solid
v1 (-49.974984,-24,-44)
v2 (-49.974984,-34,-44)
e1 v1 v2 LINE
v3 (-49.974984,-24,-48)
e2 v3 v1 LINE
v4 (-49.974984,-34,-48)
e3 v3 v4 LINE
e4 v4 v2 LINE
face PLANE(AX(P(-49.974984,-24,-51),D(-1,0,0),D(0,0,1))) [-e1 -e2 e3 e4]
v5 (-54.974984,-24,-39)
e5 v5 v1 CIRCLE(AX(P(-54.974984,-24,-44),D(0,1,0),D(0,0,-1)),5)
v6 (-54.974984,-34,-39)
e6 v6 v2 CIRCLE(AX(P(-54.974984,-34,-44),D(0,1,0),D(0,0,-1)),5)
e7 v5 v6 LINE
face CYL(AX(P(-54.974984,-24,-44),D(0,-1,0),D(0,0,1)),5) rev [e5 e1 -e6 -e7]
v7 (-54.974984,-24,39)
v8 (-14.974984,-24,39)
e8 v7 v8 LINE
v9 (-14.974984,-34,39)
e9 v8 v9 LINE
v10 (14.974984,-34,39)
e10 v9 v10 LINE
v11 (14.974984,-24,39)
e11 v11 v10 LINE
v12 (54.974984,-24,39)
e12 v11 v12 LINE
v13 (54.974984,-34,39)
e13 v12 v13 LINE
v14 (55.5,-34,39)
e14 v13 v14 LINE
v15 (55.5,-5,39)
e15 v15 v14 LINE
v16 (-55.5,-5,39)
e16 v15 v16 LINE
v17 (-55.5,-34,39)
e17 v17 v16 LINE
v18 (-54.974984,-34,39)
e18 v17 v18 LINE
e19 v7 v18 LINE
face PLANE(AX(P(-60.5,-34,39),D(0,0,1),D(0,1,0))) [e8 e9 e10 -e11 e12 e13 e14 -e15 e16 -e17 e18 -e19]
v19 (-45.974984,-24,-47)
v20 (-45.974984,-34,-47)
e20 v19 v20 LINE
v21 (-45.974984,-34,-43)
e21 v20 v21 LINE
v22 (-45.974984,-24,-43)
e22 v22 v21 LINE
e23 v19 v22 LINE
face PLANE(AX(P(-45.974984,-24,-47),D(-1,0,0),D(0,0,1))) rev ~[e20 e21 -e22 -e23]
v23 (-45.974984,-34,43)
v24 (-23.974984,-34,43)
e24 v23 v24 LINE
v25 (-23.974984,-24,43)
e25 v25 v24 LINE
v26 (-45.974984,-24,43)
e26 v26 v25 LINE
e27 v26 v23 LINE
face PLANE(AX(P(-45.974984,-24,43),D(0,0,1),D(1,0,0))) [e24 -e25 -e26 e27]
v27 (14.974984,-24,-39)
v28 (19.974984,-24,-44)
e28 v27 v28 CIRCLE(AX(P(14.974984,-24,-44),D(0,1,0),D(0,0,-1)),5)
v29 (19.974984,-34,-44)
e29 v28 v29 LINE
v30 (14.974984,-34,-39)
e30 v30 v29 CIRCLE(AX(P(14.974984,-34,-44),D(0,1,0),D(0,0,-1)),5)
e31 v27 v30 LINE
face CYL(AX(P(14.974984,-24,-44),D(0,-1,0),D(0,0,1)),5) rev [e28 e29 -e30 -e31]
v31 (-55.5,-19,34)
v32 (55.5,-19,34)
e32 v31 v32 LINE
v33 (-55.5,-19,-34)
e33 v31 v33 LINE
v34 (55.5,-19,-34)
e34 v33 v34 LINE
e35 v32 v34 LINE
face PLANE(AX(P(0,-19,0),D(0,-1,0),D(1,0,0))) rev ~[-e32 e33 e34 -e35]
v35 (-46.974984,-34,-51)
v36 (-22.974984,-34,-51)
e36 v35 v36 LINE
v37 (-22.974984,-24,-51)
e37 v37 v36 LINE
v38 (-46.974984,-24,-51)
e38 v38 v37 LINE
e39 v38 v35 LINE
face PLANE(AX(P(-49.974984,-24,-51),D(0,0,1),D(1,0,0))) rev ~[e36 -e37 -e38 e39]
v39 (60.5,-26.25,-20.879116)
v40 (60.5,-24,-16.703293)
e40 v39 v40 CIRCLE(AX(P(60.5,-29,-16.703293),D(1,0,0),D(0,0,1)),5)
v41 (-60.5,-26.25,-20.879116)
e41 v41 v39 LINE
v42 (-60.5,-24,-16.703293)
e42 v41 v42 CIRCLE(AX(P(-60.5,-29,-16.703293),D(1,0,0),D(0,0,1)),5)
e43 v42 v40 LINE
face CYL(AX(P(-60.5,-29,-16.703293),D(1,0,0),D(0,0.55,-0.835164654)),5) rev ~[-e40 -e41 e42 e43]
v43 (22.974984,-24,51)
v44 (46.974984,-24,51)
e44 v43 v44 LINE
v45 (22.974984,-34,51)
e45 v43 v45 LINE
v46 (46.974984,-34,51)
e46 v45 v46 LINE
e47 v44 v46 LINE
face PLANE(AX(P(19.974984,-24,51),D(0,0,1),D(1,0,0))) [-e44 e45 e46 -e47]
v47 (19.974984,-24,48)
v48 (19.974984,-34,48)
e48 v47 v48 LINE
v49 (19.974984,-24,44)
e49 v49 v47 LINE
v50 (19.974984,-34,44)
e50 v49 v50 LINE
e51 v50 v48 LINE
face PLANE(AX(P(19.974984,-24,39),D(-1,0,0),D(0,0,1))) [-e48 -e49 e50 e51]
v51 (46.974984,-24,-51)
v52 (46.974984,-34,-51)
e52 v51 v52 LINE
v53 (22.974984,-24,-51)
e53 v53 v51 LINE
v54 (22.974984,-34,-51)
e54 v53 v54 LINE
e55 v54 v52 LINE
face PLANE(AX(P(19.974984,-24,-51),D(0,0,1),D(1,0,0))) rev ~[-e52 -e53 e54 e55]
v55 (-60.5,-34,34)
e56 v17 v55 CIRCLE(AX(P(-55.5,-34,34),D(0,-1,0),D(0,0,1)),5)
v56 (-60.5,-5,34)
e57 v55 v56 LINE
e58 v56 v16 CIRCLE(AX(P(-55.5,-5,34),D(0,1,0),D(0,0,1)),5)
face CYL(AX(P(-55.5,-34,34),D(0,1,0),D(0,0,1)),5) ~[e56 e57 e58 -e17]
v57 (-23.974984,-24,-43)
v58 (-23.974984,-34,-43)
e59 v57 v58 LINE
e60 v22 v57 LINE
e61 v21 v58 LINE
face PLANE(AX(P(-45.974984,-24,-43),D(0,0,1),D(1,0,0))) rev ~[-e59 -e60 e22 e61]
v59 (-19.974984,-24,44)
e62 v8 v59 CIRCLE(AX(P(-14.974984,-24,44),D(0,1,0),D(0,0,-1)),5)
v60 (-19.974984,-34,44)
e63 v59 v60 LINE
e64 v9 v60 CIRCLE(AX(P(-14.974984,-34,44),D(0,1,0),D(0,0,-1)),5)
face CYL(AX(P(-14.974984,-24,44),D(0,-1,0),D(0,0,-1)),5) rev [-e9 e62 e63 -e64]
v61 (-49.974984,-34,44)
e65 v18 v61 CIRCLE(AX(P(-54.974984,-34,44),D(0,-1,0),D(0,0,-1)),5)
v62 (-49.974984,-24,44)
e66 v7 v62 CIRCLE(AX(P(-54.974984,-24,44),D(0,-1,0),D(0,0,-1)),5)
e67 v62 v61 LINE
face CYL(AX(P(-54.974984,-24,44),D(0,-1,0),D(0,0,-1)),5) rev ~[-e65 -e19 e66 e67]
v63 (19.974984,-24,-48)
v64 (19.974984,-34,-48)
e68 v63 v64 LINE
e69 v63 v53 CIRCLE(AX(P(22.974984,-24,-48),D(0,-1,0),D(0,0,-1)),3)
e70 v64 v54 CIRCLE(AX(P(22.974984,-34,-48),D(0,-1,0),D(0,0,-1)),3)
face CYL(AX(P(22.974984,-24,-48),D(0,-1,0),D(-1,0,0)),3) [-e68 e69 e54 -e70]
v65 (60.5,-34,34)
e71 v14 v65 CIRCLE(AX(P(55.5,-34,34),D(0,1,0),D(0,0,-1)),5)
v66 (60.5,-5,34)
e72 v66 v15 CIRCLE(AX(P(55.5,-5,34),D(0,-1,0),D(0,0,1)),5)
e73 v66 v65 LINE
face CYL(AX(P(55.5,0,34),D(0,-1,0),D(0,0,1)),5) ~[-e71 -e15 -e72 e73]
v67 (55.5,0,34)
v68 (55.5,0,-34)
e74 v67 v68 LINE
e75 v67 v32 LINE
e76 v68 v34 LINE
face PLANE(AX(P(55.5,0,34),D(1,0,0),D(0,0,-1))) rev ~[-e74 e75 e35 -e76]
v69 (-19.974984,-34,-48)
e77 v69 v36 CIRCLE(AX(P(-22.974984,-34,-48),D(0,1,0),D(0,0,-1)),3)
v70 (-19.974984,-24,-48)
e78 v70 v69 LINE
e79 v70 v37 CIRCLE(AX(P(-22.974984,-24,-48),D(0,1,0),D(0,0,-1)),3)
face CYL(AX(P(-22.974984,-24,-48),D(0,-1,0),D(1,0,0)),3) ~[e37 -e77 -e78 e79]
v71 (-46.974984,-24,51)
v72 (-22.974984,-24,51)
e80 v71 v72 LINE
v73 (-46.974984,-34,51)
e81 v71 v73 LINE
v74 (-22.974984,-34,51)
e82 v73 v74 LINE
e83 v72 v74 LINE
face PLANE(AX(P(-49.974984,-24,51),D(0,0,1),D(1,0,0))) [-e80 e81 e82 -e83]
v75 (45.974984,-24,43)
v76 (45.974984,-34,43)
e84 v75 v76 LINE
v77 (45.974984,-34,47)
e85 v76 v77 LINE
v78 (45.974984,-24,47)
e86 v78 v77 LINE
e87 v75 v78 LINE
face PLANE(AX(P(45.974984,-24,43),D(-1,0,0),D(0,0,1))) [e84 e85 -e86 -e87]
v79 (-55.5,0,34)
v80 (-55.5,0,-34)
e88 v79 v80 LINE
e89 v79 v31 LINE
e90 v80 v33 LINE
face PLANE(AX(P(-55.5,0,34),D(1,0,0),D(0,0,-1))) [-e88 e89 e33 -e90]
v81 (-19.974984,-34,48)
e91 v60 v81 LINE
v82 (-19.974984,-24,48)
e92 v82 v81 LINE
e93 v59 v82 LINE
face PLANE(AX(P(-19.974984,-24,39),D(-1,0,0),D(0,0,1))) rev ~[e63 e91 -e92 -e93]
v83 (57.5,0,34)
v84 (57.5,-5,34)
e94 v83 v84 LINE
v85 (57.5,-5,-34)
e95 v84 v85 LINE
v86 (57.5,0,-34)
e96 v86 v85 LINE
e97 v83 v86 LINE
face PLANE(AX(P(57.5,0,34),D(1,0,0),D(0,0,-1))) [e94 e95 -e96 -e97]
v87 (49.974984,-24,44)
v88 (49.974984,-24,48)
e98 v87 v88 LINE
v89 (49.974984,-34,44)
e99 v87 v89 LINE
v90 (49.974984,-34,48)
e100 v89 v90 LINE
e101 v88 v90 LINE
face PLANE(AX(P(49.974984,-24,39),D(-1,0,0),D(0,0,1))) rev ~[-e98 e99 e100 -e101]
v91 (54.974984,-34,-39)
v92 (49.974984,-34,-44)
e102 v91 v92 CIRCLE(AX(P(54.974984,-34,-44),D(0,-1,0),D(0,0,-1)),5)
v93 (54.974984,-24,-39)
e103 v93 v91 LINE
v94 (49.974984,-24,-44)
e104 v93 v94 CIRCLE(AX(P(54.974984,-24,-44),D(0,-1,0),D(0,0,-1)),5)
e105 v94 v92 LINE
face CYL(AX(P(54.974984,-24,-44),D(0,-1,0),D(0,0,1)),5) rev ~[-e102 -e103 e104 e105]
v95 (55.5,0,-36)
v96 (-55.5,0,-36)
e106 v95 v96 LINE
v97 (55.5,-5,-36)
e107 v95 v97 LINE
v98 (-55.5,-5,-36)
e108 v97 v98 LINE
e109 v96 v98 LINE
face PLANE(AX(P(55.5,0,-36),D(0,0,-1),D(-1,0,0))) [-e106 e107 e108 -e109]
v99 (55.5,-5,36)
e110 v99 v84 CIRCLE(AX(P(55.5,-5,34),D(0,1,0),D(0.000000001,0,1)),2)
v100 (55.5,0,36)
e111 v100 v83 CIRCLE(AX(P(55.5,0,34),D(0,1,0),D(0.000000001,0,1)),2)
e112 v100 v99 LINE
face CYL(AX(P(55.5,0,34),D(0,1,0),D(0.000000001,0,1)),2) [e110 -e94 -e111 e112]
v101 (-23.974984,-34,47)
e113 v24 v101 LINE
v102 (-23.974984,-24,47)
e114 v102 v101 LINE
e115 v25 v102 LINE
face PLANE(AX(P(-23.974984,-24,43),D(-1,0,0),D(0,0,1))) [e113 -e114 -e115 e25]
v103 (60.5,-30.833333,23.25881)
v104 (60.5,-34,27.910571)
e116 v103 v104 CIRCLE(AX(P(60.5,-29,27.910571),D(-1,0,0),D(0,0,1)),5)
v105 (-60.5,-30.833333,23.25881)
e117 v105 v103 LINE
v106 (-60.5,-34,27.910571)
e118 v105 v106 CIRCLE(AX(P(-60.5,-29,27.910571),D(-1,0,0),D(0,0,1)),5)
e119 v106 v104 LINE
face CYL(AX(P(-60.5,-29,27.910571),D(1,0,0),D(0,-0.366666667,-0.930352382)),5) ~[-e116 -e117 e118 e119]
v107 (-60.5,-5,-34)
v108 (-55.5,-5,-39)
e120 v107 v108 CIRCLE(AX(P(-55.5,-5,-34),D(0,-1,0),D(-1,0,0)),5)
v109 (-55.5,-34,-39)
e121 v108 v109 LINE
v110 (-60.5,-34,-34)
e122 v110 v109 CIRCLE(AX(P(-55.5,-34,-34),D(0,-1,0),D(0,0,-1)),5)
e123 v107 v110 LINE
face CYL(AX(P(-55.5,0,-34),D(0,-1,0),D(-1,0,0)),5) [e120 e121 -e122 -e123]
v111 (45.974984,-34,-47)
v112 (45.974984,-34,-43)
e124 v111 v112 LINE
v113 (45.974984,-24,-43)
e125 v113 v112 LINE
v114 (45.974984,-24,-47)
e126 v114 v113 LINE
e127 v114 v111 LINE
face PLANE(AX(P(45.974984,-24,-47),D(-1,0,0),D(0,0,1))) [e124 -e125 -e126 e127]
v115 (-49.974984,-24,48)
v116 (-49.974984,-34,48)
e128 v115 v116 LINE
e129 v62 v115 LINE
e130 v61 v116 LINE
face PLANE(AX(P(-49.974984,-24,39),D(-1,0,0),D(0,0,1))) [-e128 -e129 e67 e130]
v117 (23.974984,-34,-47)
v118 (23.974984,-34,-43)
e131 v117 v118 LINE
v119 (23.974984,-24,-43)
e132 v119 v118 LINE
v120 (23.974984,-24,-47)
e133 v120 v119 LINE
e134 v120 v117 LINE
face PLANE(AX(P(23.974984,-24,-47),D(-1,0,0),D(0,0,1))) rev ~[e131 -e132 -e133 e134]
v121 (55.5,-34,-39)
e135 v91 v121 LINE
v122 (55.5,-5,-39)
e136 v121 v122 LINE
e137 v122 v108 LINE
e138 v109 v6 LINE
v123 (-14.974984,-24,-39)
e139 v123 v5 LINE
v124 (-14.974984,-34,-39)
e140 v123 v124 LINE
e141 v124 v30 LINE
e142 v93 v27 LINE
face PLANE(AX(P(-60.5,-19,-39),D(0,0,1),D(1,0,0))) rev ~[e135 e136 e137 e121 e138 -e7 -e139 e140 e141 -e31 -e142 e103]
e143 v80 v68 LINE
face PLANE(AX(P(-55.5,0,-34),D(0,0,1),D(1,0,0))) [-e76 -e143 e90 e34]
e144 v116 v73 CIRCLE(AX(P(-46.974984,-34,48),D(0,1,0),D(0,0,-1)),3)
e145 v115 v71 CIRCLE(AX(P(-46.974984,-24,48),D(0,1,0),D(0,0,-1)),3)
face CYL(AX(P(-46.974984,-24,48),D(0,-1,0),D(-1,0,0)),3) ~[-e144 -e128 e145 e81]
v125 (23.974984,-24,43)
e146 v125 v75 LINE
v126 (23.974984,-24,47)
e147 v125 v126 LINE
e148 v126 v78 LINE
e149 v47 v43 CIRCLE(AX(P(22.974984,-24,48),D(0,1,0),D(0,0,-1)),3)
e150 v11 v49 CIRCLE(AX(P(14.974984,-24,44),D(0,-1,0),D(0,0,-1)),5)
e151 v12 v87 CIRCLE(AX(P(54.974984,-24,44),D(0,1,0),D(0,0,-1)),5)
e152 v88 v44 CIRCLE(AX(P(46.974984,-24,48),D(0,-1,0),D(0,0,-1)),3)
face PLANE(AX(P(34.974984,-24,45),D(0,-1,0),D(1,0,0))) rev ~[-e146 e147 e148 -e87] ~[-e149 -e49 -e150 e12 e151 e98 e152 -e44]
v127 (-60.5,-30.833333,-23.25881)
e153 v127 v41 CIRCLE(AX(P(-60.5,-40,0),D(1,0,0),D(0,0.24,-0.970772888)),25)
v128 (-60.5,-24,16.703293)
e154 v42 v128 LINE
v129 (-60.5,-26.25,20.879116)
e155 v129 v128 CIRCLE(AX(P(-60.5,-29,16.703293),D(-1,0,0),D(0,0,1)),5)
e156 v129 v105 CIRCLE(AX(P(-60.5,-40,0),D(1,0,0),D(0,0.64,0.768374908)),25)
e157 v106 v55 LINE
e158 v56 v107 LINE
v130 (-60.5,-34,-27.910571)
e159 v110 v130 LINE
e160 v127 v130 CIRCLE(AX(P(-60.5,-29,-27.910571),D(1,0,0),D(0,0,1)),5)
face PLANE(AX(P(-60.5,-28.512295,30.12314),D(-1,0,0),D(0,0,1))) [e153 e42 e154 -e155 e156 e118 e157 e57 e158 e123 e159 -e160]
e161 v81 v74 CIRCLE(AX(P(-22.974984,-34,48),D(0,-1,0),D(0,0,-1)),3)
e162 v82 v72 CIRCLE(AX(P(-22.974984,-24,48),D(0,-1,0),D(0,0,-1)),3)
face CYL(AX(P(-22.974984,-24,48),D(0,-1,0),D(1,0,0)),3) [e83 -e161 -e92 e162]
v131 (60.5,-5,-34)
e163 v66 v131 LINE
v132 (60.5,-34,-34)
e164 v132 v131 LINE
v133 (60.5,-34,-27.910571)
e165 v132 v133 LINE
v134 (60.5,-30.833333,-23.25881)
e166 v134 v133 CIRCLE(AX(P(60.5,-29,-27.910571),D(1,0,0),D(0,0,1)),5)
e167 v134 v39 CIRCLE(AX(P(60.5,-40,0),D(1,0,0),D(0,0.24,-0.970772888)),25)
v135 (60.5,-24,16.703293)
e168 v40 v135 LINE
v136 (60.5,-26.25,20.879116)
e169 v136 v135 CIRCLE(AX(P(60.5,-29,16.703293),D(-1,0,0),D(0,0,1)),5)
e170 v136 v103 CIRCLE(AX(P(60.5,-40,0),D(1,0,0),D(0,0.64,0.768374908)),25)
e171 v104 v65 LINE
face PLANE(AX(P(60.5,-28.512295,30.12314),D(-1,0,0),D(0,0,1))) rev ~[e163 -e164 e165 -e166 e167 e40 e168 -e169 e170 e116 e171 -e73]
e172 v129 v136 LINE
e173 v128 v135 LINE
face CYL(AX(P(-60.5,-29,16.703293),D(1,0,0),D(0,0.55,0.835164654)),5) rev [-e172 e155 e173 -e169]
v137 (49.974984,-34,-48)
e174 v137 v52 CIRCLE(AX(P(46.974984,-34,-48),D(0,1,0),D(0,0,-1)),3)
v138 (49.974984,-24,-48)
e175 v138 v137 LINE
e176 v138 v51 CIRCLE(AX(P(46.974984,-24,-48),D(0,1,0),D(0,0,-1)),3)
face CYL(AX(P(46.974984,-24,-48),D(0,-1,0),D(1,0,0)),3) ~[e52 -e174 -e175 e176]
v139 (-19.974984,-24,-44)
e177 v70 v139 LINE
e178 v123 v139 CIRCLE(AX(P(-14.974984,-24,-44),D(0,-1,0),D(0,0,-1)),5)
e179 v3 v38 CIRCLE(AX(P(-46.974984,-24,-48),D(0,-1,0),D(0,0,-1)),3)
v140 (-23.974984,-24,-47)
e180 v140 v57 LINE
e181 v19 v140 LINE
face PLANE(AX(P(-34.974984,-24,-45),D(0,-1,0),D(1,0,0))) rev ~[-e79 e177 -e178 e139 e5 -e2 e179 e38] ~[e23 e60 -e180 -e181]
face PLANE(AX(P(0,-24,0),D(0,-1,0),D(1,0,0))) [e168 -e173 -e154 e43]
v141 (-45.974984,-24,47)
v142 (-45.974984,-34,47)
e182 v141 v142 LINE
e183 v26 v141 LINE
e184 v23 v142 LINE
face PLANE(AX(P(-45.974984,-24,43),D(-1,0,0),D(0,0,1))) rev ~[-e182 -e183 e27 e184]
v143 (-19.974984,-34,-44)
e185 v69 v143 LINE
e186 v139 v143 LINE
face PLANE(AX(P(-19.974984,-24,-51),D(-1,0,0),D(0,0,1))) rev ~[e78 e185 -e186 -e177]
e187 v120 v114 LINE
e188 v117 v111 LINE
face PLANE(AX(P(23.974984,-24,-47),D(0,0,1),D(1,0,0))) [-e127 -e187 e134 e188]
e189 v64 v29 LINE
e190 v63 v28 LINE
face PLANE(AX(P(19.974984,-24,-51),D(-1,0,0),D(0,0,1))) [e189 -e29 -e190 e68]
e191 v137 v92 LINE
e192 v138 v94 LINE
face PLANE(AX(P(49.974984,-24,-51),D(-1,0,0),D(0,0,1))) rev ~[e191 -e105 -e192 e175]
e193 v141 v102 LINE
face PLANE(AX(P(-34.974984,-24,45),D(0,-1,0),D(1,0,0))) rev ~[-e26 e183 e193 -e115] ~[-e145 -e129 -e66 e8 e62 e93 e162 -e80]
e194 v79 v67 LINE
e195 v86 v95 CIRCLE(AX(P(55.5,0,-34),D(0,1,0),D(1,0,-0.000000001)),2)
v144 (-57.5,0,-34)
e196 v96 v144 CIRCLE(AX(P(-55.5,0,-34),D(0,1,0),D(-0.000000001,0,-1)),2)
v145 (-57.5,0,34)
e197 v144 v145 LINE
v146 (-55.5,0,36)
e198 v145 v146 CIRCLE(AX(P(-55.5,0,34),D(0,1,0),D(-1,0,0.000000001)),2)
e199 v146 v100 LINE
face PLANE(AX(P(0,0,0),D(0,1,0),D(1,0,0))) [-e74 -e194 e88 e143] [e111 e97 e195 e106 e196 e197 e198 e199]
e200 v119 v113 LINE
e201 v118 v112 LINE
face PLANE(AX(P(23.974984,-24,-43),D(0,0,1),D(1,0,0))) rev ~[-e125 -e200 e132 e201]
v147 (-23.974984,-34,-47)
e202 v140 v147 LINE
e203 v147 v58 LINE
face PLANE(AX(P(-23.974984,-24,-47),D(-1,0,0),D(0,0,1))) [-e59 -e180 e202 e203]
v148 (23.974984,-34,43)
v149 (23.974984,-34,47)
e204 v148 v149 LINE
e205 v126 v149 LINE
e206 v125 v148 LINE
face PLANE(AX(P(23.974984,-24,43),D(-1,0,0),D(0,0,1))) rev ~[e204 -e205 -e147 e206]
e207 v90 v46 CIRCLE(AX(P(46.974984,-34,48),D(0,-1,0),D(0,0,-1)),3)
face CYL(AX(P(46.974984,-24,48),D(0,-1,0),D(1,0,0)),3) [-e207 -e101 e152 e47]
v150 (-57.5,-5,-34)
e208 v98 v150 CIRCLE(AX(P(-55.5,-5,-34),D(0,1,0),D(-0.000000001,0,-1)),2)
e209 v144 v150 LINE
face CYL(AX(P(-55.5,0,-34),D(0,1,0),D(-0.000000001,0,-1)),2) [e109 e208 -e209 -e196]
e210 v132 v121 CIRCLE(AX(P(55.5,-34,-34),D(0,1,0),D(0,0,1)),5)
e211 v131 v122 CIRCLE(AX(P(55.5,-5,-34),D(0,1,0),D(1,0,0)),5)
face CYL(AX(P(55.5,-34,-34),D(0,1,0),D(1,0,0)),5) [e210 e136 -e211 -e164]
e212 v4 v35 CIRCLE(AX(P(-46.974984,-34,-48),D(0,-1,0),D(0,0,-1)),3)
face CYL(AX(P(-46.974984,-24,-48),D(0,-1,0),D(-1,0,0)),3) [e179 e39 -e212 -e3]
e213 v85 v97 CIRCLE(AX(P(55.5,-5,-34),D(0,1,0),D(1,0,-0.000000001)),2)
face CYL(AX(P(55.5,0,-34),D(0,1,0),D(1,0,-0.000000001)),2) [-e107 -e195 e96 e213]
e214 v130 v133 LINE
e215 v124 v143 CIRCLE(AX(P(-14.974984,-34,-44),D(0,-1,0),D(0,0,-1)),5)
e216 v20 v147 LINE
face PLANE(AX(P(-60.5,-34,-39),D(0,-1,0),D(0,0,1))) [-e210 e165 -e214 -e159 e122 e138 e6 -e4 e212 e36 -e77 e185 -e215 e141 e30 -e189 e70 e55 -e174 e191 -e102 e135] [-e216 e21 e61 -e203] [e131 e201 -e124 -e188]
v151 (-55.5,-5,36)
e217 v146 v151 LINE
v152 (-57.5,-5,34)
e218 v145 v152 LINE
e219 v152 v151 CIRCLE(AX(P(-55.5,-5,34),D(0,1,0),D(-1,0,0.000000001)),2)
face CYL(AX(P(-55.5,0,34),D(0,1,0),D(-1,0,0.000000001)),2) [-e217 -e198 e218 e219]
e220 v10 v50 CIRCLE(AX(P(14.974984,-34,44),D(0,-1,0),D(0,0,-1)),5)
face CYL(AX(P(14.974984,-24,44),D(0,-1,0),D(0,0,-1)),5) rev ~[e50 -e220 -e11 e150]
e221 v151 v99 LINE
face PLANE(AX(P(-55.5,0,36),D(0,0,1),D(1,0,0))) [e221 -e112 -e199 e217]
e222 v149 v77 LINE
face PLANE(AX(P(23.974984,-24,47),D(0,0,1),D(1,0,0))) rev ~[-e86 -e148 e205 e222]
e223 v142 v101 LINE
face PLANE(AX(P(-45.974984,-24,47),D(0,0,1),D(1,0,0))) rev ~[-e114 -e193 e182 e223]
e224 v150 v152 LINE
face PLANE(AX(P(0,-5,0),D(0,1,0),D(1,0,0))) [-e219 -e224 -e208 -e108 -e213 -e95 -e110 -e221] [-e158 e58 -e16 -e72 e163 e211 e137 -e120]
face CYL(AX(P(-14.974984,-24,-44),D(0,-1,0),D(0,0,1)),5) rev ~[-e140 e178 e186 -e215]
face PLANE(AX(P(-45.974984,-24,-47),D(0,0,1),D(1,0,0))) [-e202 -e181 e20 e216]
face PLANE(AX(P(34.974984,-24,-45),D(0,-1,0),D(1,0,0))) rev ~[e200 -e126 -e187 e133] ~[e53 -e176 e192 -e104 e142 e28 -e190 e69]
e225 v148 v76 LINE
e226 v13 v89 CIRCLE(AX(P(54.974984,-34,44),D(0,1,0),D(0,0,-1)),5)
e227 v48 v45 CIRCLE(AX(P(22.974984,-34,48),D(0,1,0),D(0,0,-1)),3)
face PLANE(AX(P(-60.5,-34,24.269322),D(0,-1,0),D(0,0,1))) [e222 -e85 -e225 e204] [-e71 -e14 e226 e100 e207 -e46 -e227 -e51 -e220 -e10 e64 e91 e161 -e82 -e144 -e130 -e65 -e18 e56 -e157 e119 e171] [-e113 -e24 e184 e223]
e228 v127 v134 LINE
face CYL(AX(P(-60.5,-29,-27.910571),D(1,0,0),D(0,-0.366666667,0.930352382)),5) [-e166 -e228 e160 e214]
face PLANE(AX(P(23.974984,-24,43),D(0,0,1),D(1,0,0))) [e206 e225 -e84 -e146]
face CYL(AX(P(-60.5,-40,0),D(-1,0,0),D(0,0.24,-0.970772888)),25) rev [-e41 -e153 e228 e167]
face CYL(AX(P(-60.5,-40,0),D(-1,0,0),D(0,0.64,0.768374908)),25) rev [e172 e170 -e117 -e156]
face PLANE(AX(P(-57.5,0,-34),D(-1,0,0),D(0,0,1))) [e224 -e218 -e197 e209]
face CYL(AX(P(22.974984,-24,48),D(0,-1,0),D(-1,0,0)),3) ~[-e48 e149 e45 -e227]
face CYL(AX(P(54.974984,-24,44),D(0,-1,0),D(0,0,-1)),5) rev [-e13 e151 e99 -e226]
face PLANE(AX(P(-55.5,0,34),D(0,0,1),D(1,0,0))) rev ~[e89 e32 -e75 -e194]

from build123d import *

# Parameters (mm, degrees)
CROQUIS2_W                   = 121
CROQUIS2_H                   = 78
CROQUIS2_W_2                 = 111
CROQUIS2_H_2                 = 68
SALIENTE_EXTRUIR2_DEPTH      = 19
CROQUIS4_W                   = 121
CROQUIS4_H                   = 78
SALIENTE_EXTRUIR3_DEPTH      = 5
SALIENTE_EXTRUIR4_DEPTH      = 60.5
SALIENTE_EXTRUIR4_DEPTH_BACK = 60.5
REDONDEO2_R                  = 5
CROQUIS7_W                   = 30
CROQUIS7_H                   = 12
CROQUIS7_W_2                 = 22
CROQUIS7_H_2                 = 4
SALIENTE_EXTRUIR5_DEPTH      = 10
REDONDEO5_R                  = 3
REDONDEO8_R                  = 5
REDONDEO6_R                  = 5
CROQUIS8_OUTSIDE_W           = 155.374
CROQUIS8_OUTSIDE_H           = 136.374
CORTAR_EXTRUIR1_DEPTH        = 5


with BuildPart() as part:
    # Croquis2 → Saliente-Extruir2 (new body)
    with BuildSketch(Plane(origin=(0, 0, 0), x_dir=(1, 0, 0), z_dir=(0, 1, 0))):
        Rectangle(CROQUIS2_W, CROQUIS2_H)
        Rectangle(CROQUIS2_W_2, CROQUIS2_H_2, mode=Mode.SUBTRACT)
    extrude(amount=-SALIENTE_EXTRUIR2_DEPTH)

    # Croquis4 → Saliente-Extruir3 (add)
    with BuildSketch(Plane.XZ.offset(19)):
        Rectangle(CROQUIS4_W, CROQUIS4_H)
    extrude(amount=SALIENTE_EXTRUIR3_DEPTH)

    # Croquis6 → Saliente-Extruir4 (add, two sides: drawn at the far end of the back side and taken through both)
    with BuildSketch(Plane(origin=(0, 0, 0), x_dir=(0, 0, -1), z_dir=(1, 0, 0)).offset(-SALIENTE_EXTRUIR4_DEPTH_BACK)):
        with BuildLine():
            Line((-39, -24), (-19.209372712, -24))
            ThreePointArc((-19.209372712, -24), (-22.306932281, -28.712804945), (-24.269322199, -34))
            Line((-24.269322199, -34), (-39, -34))
            Line((-39, -34), (-39, -24))
        make_face()
        with BuildLine():
            Line((39, -24), (39, -34))
            Line((39, -34), (24.269322199, -34))
            ThreePointArc((24.269322199, -34), (22.306932281, -28.712804945), (19.209372712, -24))
            Line((19.209372712, -24), (39, -24))
        make_face()
    extrude(amount=SALIENTE_EXTRUIR4_DEPTH + SALIENTE_EXTRUIR4_DEPTH_BACK)

    # Redondeo2
    redondeo2_edges = [part.edges().sort_by_distance(p)[0] for p in [
        (0, -34, 24.269322199),
        (0, -24, 19.209372712),
        (0, -34, -24.269322199),
        (0, -24, -19.209372712),
    ]]
    fillet(redondeo2_edges, radius=REDONDEO2_R)

    # Croquis7 → Saliente-Extruir5 (add)
    # profile 1 of 4: a face of its own
    with BuildSketch(Plane.XZ.offset(24)):
        with Locations((-34.974984355, 45)):
            Rectangle(CROQUIS7_W, CROQUIS7_H)
        with Locations((-34.974984355, 45)):
            Rectangle(CROQUIS7_W_2, CROQUIS7_H_2, mode=Mode.SUBTRACT)
    # profile 2 of 4: a face of its own
    with BuildSketch(Plane.XZ.offset(24)):
        with Locations((-34.974984355, -45)):
            Rectangle(CROQUIS7_W, CROQUIS7_H)
        with Locations((-34.974984355, -45)):
            Rectangle(CROQUIS7_W_2, CROQUIS7_H_2, mode=Mode.SUBTRACT)
    # profile 3 of 4: a face of its own
    with BuildSketch(Plane.XZ.offset(24)):
        with Locations((34.974984355, -45)):
            Rectangle(CROQUIS7_W, CROQUIS7_H)
        with Locations((34.974984355, -45)):
            Rectangle(CROQUIS7_W_2, CROQUIS7_H_2, mode=Mode.SUBTRACT)
    # profile 4 of 4: a face of its own
    with BuildSketch(Plane.XZ.offset(24)):
        with Locations((34.974984355, 45)):
            Rectangle(CROQUIS7_W, CROQUIS7_H)
        with Locations((34.974984355, 45)):
            Rectangle(CROQUIS7_W_2, CROQUIS7_H_2, mode=Mode.SUBTRACT)
    extrude(amount=SALIENTE_EXTRUIR5_DEPTH)

    # Redondeo5
    redondeo5_edges = [part.edges().sort_by_distance(p)[0] for p in [
        (-49.974984355, -29, 51),
        (-19.974984355, -29, 51),
        (-49.974984355, -29, -51),
        (-19.974984355, -29, -51),
        (19.974984355, -29, -51),
        (49.974984355, -29, -51),
        (49.974984355, -29, 51),
        (19.974984355, -29, 51),
    ]]
    fillet(redondeo5_edges, radius=REDONDEO5_R)

    # Redondeo8
    redondeo8_edges = [part.edges().sort_by_distance(p)[0] for p in [
        (60.5, -17, 39),
        (-60.5, -17, 39),
        (-60.5, -17, -39),
        (60.5, -17, -39),
    ]]
    fillet(redondeo8_edges, radius=REDONDEO8_R)

    # Redondeo6
    redondeo6_edges = [part.edges().sort_by_distance(p)[0] for p in [
        (-49.974984355, -29, 39),
        (-19.974984355, -29, 39),
        (-49.974984355, -29, -39),
        (-19.974984355, -29, -39),
        (49.974984355, -29, -39),
        (19.974984355, -29, -39),
        (49.974984355, -29, 39),
        (19.974984355, -29, 39),
    ]]
    fillet(redondeo6_edges, radius=REDONDEO6_R)

    # Croquis8 outside → Cortar-Extruir1 (cut)
    with BuildSketch(Plane(origin=(0, 0, 0), x_dir=(1, 0, 0), z_dir=(0, 1, 0))):
        Rectangle(CROQUIS8_OUTSIDE_W, CROQUIS8_OUTSIDE_H)
        with BuildLine():
            Line((55.5, 36), (-55.5, 36))
            ThreePointArc((-55.5, 36), (-56.914213562, 35.414213562), (-57.5, 34))
            Line((-57.5, 34), (-57.5, -34))
            ThreePointArc((-57.5, -34), (-56.914213562, -35.414213562), (-55.5, -36))
            Line((-55.5, -36), (55.5, -36))
            ThreePointArc((55.5, -36), (56.914213562, -35.414213562), (57.5, -34))
            Line((57.5, -34), (57.5, 34))
            ThreePointArc((57.5, 34), (56.914213562, 35.414213562), (55.5, 36))
        make_face(mode=Mode.SUBTRACT)
    extrude(amount=-CORTAR_EXTRUIR1_DEPTH, mode=Mode.SUBTRACT)


solid = part.part
